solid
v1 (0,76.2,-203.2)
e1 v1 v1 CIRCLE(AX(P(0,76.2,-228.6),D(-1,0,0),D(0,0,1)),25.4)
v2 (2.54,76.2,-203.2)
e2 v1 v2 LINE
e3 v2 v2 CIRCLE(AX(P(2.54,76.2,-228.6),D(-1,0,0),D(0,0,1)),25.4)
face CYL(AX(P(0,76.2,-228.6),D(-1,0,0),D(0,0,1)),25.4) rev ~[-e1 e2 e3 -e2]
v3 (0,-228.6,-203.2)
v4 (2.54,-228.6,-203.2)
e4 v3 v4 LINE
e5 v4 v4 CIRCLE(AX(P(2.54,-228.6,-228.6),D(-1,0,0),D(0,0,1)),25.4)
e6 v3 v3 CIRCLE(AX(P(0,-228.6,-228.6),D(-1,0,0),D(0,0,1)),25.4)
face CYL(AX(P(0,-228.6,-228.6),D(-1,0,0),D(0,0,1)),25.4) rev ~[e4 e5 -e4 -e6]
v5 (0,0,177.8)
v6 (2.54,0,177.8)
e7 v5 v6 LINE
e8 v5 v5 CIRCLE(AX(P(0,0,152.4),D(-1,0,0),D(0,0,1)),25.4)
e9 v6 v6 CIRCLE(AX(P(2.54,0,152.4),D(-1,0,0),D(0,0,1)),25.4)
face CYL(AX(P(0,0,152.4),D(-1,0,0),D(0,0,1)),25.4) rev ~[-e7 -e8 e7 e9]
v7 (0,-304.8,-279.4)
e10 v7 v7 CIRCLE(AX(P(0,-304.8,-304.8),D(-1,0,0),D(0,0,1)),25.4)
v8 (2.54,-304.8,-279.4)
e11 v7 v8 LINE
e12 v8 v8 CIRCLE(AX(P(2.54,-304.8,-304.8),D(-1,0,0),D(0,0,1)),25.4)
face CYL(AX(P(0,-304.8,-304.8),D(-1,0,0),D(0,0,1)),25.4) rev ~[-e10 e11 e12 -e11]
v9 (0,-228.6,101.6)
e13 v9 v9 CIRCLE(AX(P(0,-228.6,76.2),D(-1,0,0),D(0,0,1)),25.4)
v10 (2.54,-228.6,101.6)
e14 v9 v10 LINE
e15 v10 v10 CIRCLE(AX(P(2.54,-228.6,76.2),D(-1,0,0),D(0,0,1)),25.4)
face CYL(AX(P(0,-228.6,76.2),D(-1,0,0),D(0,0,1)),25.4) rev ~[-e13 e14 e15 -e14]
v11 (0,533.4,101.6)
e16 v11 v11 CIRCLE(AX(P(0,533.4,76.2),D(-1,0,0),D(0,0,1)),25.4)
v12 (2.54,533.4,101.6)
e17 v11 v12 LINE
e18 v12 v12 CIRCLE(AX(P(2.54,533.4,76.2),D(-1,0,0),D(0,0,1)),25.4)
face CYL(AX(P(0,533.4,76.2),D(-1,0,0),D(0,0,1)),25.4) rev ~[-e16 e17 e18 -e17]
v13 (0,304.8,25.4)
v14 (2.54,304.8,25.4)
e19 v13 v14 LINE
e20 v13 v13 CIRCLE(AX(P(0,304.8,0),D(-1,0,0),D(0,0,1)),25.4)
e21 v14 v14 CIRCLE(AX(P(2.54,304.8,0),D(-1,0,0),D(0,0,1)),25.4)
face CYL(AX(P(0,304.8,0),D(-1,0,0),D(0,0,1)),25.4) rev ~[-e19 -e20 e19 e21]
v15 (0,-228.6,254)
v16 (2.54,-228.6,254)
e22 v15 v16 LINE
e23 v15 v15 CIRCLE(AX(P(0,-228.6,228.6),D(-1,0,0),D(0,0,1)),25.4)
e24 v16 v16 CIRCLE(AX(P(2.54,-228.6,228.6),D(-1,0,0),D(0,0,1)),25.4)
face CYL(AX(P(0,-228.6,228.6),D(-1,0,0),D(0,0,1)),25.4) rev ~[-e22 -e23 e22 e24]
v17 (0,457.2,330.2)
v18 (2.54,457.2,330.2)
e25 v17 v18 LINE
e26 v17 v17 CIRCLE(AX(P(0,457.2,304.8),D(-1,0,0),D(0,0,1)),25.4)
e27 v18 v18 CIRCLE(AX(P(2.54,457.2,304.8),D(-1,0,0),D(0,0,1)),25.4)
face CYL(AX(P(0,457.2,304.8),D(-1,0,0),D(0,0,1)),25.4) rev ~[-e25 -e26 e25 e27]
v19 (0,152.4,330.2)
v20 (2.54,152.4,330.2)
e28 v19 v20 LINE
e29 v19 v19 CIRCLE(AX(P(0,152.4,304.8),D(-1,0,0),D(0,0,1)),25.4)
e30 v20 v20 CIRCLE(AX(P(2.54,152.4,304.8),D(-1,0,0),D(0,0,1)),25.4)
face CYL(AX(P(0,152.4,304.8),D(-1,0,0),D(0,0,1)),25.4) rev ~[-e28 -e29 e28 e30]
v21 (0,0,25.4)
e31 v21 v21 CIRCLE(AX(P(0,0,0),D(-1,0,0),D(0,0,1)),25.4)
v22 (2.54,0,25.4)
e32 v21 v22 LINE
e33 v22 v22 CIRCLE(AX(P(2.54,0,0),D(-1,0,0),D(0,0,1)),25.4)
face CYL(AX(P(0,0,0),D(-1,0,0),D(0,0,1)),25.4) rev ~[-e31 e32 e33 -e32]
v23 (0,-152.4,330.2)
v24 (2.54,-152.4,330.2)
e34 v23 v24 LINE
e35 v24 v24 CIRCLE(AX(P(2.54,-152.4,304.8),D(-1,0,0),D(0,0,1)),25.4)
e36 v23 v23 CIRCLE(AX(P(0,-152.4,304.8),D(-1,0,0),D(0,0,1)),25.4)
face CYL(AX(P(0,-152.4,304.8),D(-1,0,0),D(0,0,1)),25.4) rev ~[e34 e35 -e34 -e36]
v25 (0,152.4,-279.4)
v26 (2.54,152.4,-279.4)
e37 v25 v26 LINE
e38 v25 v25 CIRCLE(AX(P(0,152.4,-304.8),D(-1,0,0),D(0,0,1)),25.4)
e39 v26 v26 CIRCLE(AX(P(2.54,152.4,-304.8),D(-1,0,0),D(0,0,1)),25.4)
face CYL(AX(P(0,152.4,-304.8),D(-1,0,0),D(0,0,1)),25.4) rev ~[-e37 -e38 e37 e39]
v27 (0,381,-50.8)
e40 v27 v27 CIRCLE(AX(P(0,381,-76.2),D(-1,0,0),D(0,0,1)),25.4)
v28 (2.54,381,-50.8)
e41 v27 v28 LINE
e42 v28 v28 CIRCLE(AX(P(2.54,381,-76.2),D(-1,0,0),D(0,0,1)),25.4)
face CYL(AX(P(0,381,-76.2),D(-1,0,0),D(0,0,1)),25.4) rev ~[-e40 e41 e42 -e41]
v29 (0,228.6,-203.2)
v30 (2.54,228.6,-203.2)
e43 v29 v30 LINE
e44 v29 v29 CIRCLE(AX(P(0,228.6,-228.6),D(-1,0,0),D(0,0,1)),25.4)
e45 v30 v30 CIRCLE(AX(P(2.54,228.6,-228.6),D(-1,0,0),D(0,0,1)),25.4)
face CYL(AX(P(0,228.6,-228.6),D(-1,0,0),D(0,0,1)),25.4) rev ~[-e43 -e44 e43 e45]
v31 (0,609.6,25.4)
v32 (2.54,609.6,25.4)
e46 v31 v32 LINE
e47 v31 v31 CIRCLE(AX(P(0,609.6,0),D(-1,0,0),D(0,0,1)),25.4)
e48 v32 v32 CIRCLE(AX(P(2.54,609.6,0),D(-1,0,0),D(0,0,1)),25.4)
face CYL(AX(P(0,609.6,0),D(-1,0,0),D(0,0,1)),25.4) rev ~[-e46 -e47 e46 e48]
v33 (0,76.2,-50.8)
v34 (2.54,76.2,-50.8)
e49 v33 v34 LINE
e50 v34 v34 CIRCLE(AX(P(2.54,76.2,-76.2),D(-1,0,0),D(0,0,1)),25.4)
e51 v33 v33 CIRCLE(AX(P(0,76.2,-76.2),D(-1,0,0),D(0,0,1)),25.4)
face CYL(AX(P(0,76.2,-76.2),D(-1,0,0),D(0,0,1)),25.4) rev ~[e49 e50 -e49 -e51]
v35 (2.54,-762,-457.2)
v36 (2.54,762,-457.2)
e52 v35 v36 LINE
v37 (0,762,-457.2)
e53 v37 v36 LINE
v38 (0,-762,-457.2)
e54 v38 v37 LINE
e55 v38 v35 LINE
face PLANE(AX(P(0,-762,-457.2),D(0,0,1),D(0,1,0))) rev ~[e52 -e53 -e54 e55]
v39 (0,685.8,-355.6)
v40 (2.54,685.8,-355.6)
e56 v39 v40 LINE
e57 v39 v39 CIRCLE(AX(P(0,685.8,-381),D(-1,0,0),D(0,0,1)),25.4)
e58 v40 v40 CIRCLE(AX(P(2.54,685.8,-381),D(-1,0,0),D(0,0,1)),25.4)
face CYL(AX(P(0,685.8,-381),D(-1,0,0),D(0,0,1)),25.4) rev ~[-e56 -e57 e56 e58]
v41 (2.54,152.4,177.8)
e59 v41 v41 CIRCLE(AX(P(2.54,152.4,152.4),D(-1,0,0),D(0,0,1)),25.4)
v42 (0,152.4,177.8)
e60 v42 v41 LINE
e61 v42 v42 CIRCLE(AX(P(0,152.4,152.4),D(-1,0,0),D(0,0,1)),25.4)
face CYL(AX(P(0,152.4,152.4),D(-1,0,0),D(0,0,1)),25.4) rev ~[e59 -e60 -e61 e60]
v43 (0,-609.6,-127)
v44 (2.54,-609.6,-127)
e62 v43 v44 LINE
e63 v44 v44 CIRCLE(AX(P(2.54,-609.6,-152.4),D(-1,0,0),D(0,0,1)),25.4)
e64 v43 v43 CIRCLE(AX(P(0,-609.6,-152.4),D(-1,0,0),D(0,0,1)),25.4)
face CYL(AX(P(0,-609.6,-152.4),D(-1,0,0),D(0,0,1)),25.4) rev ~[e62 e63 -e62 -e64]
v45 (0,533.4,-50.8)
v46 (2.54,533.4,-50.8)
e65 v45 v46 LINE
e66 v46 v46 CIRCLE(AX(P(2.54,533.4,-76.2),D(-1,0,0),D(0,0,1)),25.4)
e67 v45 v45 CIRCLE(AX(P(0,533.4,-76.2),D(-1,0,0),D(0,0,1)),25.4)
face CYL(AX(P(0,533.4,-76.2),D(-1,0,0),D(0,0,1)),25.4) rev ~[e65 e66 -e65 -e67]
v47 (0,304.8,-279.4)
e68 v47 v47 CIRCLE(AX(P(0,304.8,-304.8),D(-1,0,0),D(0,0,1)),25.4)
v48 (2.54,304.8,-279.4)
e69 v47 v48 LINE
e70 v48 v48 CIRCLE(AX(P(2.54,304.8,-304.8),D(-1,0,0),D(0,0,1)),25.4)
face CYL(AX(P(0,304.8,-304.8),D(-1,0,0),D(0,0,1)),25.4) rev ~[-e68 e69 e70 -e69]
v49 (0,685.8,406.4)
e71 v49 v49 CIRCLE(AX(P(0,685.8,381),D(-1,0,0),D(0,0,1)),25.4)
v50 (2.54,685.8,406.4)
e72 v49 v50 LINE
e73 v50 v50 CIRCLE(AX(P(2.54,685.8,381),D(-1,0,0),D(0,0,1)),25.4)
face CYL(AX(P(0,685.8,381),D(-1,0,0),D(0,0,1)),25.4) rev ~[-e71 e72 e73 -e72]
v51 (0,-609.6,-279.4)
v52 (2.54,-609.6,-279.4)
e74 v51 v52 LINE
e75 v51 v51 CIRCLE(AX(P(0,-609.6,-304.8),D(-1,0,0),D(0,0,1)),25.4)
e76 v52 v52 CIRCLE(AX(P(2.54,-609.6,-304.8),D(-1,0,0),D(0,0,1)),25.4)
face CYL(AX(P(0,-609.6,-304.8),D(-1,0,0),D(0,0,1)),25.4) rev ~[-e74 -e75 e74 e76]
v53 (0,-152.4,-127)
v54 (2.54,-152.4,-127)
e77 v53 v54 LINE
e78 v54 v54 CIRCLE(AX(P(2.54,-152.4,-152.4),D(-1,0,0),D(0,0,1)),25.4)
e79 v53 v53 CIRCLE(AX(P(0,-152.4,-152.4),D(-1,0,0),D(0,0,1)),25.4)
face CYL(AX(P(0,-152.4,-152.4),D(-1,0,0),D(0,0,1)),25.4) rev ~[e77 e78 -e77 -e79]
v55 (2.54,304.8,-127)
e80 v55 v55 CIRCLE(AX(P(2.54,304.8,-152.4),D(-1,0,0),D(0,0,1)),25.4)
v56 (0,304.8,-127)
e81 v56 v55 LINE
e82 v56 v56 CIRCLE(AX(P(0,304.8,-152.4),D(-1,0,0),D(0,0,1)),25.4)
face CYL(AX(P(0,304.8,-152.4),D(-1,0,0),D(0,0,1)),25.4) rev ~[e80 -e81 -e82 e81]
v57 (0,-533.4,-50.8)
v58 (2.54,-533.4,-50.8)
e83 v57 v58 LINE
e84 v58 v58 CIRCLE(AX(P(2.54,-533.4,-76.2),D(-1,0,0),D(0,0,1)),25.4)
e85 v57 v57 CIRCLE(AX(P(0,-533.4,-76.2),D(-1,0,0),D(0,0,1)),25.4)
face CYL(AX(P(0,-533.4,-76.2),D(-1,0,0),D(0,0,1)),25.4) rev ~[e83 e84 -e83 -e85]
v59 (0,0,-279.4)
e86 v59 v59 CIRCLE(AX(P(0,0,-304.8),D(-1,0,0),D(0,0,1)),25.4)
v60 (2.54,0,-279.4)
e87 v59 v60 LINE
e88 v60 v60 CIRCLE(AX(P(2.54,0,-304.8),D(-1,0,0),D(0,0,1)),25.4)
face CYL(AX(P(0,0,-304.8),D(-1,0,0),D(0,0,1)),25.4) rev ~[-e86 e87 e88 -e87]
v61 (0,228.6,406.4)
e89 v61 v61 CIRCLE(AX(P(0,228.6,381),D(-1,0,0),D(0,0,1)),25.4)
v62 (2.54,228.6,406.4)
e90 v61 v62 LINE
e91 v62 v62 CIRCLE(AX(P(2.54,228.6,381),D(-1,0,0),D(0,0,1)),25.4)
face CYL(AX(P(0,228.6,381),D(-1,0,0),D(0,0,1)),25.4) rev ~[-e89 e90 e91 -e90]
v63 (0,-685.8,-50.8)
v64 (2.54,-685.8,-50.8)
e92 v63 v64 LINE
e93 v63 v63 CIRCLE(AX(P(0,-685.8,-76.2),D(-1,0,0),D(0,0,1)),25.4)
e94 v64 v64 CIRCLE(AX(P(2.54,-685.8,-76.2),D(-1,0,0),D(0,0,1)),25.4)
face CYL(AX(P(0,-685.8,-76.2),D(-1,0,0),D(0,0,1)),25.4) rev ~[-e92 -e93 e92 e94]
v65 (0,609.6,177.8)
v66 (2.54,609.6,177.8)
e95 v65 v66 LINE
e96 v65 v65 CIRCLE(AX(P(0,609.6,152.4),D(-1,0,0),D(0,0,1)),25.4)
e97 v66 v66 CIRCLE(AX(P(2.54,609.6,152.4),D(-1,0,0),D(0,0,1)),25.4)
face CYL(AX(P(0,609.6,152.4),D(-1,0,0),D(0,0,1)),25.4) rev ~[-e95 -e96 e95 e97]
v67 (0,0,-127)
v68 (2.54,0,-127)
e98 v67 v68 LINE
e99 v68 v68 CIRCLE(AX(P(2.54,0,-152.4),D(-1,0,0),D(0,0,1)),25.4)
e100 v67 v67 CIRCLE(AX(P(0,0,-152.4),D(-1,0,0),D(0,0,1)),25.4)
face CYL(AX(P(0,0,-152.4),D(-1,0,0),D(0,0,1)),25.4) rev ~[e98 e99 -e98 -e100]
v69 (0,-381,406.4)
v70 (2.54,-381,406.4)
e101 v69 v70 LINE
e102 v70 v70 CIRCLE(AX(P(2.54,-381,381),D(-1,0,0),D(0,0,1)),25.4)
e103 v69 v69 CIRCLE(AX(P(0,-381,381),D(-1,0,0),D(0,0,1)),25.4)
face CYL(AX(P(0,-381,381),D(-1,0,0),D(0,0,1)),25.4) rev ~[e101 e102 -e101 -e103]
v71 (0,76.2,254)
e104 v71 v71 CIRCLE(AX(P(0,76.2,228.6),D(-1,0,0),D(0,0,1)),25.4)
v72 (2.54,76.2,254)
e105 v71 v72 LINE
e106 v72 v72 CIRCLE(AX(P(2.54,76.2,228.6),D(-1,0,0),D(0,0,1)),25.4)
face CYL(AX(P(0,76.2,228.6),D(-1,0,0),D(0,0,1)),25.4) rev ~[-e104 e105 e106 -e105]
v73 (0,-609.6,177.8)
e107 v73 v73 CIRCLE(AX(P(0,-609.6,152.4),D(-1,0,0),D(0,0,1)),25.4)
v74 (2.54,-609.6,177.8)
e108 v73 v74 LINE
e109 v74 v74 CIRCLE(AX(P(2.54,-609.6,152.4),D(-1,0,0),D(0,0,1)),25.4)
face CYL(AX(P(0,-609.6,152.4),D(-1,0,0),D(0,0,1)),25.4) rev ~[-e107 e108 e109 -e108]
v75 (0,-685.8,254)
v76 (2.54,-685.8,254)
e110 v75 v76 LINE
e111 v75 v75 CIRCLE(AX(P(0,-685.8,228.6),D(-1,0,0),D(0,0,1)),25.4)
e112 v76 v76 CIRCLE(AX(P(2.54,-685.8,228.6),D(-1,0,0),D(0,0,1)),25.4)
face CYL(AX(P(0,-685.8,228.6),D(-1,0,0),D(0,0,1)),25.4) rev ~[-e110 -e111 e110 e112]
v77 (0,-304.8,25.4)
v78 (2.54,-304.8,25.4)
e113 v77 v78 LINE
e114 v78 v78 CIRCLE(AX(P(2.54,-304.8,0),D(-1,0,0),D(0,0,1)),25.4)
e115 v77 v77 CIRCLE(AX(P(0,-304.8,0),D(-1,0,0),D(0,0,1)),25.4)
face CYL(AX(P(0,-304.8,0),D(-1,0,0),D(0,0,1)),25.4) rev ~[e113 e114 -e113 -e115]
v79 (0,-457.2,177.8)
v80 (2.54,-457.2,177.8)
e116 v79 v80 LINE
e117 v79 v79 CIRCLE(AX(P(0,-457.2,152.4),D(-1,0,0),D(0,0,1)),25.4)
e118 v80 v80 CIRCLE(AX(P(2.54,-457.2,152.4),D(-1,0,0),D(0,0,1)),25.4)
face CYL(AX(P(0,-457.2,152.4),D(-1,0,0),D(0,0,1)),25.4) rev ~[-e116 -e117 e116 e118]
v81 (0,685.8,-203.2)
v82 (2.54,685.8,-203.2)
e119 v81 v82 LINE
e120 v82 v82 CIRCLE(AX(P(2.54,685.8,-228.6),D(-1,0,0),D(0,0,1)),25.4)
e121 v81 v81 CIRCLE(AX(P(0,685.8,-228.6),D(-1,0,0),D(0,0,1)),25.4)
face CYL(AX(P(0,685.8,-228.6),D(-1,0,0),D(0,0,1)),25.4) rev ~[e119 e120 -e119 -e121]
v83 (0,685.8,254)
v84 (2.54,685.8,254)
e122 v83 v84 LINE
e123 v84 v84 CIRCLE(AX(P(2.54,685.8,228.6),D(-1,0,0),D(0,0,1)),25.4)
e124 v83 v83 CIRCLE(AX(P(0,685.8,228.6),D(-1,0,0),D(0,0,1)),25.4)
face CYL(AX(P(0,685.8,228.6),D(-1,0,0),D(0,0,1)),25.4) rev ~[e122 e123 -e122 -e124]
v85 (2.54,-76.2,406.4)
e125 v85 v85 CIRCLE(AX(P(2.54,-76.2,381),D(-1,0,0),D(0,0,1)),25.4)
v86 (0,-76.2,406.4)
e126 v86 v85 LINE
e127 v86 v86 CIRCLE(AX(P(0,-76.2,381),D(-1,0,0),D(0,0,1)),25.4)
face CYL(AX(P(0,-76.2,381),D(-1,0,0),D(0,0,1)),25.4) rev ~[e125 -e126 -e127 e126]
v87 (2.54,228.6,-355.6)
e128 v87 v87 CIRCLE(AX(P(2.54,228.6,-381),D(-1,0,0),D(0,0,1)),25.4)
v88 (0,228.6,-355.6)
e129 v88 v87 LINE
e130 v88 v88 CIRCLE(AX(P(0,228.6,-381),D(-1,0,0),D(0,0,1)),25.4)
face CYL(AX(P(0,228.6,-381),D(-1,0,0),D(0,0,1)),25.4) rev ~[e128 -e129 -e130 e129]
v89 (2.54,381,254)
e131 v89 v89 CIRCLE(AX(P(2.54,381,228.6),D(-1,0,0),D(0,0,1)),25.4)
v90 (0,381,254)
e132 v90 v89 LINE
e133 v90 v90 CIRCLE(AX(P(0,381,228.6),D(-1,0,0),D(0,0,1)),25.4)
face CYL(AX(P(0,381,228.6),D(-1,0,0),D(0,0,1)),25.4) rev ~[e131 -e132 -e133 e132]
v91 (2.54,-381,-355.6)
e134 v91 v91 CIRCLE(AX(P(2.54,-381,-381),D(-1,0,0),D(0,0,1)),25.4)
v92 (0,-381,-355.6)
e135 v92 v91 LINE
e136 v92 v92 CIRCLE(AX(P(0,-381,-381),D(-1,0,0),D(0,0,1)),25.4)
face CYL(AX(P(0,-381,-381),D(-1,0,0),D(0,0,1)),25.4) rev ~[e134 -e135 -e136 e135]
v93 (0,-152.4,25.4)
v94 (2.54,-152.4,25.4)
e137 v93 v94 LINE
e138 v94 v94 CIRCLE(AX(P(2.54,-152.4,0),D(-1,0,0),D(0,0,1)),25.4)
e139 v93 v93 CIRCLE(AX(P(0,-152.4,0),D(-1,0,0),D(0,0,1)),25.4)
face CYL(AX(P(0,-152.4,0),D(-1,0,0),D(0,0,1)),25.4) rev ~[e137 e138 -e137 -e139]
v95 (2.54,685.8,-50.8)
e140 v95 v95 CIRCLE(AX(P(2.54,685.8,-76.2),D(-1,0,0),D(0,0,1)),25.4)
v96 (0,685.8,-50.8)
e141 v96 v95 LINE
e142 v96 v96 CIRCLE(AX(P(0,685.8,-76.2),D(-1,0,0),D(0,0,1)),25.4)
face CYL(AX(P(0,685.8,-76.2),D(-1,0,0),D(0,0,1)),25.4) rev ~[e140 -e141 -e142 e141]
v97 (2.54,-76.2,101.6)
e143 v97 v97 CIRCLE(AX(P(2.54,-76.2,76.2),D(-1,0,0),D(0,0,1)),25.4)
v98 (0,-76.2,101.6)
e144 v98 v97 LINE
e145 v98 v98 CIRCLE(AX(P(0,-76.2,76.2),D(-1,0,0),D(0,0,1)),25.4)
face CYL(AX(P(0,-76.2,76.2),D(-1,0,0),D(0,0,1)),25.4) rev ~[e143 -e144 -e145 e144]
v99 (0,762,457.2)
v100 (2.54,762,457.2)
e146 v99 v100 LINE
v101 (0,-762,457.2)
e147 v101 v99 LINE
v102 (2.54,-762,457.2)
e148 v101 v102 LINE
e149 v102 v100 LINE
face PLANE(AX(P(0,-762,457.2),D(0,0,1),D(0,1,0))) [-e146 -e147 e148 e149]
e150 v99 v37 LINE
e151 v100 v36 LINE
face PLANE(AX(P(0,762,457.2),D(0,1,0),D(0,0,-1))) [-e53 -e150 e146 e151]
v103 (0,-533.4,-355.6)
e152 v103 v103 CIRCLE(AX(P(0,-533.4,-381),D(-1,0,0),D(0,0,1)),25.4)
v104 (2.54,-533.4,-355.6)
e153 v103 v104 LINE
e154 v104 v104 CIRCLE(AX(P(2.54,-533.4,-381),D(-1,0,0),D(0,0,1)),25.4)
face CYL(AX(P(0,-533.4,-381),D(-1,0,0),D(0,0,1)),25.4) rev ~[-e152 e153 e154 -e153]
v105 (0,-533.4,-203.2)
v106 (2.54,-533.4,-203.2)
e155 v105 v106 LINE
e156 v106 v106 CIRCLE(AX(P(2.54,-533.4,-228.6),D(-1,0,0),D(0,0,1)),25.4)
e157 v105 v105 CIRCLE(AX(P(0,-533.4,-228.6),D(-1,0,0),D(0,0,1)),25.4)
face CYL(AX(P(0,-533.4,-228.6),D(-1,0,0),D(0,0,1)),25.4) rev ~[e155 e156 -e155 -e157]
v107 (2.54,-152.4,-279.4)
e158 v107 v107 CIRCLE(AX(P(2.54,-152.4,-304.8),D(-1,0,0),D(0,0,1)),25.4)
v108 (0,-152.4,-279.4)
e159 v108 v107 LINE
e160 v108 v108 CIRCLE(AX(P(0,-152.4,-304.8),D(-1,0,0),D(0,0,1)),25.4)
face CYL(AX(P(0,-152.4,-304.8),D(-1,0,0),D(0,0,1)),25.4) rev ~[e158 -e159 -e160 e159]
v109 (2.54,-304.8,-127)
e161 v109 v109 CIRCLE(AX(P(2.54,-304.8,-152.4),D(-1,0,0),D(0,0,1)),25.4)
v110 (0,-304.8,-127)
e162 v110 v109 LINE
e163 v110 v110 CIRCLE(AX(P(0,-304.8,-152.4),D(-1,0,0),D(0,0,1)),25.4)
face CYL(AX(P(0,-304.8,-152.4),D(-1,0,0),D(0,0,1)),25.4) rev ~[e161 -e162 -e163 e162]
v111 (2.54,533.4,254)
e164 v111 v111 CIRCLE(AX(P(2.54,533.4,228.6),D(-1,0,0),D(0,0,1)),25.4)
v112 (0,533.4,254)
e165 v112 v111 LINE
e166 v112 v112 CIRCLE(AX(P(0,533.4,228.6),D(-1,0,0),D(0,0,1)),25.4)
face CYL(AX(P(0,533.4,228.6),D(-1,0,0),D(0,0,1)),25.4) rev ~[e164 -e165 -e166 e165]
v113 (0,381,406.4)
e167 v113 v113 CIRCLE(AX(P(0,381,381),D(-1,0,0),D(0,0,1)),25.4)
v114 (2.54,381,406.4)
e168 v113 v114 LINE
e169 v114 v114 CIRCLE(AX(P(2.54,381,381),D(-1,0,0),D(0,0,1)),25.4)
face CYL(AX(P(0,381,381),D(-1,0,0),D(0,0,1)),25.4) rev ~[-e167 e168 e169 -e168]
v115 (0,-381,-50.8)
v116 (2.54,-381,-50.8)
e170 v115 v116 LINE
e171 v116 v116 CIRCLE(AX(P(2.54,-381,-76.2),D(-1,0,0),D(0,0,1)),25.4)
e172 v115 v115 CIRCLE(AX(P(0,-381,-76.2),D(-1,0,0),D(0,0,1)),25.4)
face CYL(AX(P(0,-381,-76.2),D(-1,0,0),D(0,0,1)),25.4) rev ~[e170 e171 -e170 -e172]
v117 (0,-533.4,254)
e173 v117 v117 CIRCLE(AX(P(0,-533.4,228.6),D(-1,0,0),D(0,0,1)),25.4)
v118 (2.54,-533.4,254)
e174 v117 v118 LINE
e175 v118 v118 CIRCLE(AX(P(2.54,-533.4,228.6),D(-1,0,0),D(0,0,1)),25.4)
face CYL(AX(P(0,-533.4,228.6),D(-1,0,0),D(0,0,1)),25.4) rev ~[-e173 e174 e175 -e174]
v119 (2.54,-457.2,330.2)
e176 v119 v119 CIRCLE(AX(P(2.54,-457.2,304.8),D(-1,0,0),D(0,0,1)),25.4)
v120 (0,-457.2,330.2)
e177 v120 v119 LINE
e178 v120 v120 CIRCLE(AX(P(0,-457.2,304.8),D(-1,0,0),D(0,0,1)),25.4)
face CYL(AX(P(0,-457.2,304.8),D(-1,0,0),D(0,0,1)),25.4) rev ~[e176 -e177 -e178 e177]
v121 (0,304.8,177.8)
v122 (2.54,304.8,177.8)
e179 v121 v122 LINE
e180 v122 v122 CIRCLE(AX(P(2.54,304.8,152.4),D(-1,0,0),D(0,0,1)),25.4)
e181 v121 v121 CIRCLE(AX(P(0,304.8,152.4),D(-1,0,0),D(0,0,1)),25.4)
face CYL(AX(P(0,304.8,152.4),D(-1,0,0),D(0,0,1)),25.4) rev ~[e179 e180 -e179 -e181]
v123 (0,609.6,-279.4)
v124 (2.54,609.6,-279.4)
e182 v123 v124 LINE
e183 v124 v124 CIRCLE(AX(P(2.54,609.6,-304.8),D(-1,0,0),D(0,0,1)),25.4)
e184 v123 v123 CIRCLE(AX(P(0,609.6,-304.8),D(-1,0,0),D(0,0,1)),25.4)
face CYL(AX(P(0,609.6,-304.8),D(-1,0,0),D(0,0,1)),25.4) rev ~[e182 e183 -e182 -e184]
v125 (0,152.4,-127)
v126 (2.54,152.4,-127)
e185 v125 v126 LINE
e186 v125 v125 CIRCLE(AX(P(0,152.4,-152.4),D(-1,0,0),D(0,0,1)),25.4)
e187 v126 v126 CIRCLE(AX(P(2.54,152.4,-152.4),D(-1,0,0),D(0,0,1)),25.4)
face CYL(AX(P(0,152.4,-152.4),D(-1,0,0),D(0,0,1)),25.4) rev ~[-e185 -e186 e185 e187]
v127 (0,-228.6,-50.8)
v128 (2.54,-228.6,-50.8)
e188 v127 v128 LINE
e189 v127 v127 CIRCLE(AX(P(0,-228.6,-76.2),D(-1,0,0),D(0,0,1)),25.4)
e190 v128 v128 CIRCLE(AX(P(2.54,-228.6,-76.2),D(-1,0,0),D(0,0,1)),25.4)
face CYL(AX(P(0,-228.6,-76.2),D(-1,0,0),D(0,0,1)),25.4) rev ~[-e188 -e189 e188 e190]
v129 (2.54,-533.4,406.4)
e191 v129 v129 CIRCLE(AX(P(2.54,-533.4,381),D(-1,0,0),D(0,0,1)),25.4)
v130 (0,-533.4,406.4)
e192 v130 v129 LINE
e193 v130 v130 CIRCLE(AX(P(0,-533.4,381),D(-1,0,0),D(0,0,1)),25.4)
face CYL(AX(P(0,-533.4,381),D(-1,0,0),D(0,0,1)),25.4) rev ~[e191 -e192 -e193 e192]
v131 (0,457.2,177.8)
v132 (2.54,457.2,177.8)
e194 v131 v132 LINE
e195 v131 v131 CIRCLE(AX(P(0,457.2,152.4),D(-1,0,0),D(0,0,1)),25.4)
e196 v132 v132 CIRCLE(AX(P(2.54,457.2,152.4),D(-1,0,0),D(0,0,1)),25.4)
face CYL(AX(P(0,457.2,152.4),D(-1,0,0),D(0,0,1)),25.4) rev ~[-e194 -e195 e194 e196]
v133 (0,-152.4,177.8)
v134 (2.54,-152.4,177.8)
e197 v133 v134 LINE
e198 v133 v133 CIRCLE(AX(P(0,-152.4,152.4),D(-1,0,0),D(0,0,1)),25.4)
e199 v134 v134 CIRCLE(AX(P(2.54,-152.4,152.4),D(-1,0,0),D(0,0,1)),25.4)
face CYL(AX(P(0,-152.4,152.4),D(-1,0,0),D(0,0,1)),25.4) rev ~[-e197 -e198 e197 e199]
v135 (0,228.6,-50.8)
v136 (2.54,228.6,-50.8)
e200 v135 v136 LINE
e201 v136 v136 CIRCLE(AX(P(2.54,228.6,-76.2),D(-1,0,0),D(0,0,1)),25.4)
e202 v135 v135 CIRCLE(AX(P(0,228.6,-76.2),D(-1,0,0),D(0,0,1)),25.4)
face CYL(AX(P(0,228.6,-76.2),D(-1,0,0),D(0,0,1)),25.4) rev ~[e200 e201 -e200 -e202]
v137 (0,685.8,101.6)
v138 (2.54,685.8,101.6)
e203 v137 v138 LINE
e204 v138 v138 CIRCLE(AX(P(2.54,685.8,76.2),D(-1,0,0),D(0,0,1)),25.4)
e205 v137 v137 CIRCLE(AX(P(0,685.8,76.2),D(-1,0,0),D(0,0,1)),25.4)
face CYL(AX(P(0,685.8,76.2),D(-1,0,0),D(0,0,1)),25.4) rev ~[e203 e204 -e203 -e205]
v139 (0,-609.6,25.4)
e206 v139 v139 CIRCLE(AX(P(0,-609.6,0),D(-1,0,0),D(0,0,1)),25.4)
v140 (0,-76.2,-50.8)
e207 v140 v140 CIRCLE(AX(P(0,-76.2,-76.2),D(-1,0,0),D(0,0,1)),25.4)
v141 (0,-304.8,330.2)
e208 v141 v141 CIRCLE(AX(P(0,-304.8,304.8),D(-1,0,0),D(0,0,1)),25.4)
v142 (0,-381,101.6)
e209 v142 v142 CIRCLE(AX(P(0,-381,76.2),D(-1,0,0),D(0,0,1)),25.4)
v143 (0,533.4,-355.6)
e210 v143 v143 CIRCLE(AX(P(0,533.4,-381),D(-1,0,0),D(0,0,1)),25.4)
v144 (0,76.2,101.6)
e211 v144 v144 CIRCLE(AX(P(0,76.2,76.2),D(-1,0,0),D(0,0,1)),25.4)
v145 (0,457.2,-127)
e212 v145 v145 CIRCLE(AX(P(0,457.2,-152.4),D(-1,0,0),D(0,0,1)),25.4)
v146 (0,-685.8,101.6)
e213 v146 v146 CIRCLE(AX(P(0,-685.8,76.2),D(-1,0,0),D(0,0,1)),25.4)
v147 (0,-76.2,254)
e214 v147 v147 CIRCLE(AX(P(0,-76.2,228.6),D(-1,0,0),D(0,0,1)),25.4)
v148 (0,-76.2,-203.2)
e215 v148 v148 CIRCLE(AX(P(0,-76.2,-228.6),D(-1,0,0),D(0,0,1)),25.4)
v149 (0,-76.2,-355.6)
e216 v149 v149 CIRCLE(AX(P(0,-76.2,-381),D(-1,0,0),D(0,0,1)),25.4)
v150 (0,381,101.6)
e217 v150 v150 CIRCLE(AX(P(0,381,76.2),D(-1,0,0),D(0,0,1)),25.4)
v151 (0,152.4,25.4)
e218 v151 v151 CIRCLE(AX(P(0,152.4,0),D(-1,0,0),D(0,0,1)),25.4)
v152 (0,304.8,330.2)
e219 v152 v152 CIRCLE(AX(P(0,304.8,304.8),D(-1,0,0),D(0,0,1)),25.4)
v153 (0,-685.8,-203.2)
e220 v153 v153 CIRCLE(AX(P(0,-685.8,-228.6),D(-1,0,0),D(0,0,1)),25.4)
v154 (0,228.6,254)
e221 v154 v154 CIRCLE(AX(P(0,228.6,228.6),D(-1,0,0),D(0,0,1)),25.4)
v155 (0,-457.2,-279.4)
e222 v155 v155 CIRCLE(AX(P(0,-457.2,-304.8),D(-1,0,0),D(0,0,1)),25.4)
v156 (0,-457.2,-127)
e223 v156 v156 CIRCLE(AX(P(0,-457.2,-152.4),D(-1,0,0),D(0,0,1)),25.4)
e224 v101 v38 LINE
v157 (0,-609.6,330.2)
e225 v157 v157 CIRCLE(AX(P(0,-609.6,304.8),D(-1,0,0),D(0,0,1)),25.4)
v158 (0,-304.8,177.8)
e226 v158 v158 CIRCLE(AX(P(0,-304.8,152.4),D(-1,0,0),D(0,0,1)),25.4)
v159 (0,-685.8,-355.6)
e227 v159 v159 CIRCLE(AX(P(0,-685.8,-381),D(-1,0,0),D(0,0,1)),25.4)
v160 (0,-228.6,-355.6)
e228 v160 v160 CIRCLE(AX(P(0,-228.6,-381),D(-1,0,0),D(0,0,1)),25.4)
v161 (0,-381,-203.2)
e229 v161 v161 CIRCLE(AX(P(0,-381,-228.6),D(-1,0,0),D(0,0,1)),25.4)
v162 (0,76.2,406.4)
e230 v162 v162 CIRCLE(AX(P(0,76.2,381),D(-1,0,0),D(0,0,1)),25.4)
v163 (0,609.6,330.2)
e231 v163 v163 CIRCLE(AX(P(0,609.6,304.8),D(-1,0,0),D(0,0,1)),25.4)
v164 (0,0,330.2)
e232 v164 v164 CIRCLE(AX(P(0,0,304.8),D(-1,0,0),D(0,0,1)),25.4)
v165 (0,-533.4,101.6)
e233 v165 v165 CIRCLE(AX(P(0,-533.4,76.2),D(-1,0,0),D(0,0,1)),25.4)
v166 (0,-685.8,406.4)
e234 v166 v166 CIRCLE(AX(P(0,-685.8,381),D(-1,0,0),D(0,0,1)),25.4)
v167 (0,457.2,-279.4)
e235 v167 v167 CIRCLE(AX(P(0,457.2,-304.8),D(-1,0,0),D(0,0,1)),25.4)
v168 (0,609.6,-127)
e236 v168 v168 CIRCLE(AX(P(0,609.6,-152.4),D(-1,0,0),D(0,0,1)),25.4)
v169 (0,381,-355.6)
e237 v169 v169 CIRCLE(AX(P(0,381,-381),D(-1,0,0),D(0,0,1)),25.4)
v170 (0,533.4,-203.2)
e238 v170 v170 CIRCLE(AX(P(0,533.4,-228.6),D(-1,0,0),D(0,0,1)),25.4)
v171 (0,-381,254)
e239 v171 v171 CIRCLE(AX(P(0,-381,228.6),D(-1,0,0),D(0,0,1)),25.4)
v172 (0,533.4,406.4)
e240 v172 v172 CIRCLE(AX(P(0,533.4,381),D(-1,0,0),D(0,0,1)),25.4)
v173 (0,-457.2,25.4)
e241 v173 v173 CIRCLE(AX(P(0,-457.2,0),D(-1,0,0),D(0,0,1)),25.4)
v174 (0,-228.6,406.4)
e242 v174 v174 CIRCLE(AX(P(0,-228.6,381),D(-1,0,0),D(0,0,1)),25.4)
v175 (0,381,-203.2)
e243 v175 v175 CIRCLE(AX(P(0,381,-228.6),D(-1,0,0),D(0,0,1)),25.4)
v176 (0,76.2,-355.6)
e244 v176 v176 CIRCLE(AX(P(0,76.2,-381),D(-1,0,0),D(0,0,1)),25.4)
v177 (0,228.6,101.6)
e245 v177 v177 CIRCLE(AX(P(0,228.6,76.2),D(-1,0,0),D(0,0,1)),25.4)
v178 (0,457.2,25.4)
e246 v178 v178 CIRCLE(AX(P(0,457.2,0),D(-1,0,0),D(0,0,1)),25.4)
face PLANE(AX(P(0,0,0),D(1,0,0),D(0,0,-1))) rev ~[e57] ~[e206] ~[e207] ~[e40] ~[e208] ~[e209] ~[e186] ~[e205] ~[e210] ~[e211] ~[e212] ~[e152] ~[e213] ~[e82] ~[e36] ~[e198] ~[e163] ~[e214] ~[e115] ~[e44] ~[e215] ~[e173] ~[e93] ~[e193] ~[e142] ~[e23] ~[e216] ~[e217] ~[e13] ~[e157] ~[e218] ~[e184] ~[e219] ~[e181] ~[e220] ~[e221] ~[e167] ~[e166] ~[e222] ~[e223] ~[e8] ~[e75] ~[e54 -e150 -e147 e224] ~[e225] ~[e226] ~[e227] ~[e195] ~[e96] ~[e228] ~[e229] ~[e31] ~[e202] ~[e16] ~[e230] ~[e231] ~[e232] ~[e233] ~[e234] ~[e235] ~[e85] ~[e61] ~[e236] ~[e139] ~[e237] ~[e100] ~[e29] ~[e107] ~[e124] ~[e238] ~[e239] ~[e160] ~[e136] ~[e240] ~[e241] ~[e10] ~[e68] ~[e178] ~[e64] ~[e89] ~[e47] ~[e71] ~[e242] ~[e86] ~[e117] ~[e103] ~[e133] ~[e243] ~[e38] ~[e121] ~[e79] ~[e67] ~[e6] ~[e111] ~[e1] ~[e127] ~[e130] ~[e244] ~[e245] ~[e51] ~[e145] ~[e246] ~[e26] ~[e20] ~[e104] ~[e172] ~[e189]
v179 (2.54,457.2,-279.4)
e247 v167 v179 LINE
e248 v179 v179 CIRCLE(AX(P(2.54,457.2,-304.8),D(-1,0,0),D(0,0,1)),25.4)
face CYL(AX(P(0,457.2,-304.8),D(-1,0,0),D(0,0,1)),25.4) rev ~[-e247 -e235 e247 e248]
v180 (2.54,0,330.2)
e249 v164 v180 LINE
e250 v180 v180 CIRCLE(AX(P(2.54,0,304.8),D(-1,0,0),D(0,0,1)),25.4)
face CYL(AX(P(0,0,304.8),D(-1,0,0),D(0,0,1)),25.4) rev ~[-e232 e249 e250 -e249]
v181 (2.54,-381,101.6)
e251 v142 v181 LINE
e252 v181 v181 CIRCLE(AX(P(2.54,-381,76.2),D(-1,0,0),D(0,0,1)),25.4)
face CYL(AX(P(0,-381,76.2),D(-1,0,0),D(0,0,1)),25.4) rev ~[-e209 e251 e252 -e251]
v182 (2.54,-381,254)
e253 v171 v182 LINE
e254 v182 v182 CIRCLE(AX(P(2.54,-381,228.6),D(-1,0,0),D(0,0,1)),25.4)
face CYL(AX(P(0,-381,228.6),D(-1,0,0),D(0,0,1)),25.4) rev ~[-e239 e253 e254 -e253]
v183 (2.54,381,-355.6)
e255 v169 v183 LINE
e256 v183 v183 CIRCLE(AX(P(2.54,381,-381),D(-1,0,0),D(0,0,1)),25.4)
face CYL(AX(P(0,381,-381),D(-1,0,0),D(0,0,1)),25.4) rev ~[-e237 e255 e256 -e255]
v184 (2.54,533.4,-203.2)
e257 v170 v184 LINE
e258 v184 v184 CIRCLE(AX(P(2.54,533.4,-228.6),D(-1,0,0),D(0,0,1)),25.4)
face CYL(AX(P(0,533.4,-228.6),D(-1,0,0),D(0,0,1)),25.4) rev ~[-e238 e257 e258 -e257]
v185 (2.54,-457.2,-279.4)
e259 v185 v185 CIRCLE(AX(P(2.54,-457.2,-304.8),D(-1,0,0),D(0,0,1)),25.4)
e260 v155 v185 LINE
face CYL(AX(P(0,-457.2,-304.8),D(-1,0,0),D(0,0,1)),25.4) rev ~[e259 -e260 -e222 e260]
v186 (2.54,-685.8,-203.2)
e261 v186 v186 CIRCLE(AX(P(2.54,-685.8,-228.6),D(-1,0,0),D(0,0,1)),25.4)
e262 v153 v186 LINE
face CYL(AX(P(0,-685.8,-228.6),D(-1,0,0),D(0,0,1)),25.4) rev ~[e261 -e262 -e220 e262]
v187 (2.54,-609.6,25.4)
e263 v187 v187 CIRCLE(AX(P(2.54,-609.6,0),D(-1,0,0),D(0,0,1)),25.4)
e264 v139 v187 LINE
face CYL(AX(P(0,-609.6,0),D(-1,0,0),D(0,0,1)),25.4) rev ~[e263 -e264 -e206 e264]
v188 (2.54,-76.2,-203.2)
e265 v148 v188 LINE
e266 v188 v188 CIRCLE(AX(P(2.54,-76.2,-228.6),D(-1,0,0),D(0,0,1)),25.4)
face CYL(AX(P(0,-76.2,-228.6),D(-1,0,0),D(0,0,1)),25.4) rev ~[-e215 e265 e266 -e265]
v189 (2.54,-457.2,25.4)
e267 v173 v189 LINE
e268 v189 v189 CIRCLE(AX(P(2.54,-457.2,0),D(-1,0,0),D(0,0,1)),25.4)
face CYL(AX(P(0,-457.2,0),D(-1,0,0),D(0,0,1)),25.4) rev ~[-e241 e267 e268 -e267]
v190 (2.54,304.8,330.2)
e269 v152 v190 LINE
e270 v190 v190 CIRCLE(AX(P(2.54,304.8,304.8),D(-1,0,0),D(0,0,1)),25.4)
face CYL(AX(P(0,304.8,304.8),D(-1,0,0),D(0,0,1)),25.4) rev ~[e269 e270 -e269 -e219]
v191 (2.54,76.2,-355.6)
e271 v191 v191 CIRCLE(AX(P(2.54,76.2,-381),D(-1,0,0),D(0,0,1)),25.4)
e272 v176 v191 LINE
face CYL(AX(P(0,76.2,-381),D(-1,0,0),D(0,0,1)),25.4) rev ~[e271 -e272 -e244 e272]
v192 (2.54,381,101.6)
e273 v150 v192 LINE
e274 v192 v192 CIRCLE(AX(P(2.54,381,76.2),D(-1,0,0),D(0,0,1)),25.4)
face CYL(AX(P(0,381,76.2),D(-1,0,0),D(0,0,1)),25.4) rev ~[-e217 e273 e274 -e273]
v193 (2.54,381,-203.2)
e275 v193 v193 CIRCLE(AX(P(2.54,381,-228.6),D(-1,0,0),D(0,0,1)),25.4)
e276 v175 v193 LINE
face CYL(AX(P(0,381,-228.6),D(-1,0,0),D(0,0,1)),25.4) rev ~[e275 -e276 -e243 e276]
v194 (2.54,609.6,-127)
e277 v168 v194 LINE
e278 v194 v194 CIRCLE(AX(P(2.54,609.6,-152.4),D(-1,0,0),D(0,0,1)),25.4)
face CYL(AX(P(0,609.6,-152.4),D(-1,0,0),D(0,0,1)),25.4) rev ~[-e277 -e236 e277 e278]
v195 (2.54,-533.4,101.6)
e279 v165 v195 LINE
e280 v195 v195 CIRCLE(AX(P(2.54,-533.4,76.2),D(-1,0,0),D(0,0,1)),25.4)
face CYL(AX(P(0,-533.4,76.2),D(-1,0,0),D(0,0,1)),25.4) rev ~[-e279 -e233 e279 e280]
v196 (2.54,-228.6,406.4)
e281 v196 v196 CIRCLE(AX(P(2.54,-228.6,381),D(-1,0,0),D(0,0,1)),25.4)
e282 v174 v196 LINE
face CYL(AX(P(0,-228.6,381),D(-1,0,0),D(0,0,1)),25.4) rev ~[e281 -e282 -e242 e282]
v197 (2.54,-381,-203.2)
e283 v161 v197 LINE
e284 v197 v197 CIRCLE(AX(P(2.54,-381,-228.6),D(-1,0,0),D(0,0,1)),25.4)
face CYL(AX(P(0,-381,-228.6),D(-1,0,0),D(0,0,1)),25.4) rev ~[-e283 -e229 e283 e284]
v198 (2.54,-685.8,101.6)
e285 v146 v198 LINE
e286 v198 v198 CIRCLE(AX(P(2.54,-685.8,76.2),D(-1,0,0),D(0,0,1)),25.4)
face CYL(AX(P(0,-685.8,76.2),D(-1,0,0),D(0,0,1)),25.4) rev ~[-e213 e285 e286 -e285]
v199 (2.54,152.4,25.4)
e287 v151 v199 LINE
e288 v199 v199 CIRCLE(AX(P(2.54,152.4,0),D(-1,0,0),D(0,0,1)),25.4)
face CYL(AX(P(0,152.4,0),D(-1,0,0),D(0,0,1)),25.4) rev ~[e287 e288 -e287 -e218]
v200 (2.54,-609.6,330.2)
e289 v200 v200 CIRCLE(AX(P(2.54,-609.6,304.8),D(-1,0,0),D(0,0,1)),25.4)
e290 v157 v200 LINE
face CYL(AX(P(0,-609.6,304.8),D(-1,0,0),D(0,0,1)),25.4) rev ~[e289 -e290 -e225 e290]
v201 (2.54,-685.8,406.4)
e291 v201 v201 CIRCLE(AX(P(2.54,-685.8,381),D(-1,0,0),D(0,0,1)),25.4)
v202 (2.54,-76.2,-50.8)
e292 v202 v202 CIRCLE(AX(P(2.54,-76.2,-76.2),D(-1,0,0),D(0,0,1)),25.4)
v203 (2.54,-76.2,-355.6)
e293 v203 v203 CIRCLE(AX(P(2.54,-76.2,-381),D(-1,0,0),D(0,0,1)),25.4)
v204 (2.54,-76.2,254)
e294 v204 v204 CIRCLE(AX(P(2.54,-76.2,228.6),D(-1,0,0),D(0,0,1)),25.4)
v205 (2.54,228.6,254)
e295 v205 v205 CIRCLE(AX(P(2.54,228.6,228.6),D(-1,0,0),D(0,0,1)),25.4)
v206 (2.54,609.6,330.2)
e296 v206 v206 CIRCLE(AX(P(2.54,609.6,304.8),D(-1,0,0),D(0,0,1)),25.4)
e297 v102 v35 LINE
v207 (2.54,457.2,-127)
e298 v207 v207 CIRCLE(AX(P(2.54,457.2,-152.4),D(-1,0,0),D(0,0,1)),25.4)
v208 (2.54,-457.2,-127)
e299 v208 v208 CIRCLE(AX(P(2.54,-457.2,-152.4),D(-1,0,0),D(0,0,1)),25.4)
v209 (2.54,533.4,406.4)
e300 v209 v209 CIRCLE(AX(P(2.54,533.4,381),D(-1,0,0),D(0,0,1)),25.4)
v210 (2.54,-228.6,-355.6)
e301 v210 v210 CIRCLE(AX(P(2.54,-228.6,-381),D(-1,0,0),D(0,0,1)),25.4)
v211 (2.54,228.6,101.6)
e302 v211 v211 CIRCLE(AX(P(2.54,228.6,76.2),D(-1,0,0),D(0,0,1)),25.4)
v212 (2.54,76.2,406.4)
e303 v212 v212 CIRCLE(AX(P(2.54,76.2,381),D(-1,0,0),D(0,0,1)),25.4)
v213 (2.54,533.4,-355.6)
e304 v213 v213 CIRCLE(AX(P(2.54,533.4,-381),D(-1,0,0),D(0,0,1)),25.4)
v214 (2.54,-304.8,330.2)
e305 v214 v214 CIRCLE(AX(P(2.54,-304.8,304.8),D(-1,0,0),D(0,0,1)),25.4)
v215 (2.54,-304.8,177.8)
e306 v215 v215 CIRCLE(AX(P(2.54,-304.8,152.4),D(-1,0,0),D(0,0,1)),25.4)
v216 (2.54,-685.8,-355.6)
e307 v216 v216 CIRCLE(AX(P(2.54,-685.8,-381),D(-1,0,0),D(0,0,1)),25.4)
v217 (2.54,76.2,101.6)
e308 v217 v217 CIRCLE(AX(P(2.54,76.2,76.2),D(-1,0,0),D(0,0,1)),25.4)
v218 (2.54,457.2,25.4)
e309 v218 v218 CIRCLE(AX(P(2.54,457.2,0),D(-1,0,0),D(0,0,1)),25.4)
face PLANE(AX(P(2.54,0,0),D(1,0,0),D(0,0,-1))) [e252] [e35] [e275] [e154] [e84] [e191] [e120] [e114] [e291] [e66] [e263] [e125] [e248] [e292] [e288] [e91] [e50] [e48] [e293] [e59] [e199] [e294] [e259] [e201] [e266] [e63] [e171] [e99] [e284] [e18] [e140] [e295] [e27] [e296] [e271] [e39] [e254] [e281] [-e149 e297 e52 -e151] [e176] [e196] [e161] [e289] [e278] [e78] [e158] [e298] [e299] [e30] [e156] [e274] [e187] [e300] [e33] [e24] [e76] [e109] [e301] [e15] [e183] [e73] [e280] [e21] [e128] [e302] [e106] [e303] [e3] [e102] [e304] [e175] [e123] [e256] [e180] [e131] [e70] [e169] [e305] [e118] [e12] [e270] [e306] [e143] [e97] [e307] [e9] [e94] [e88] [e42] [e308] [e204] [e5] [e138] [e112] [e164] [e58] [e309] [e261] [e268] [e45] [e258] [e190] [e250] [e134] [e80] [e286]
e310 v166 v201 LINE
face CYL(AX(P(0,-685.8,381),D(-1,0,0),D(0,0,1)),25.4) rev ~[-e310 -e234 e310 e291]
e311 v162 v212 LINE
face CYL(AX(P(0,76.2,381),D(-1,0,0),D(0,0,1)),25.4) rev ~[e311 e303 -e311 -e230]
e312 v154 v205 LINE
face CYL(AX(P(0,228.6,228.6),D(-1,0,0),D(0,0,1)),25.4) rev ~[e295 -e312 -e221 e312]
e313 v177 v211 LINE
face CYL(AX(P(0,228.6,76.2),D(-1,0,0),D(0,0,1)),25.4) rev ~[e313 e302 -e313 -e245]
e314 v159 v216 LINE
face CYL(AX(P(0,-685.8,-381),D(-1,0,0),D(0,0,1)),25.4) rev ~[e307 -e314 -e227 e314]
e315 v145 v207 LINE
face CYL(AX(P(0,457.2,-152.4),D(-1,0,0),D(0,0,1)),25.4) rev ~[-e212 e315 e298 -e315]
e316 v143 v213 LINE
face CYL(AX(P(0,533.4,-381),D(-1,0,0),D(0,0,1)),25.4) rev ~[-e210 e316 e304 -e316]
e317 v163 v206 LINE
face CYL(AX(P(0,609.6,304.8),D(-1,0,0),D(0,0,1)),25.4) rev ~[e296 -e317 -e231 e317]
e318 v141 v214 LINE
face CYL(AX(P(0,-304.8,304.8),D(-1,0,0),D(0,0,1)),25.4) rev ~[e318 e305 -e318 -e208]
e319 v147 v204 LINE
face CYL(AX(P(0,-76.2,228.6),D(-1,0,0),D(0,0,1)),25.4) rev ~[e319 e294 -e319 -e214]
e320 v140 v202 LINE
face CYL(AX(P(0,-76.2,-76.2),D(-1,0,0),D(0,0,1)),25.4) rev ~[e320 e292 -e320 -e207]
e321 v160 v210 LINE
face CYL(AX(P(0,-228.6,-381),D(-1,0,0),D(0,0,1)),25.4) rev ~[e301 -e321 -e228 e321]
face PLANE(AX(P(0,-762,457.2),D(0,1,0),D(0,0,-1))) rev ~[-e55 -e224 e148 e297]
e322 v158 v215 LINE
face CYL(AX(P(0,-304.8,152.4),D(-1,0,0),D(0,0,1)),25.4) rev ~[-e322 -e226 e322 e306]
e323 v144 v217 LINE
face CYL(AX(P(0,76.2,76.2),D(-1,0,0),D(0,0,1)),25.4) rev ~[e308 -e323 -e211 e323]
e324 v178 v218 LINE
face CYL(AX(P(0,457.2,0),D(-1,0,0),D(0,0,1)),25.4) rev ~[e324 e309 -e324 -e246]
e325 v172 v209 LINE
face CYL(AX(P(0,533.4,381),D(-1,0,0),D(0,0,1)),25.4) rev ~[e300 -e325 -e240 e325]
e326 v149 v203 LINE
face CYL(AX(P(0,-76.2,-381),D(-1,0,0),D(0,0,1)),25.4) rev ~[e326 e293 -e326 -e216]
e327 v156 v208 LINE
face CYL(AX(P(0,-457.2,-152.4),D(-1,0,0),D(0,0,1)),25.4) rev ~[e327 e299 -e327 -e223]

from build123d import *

# Parameters (mm, degrees)
SKETCH1_W           = 914.4
SKETCH1_H           = 1524
BOSS_EXTRUDE1_DEPTH = 2.54
SKETCH3_R           = 25.4
CUT_EXTRUDE1_DEPTH  = 3.54


with BuildPart() as part:
    # Sketch1 → Boss-Extrude1 (new body)
    with BuildSketch(Plane(origin=(0, 0, 0), x_dir=(0, 0, -1), z_dir=(1, 0, 0))):
        Rectangle(SKETCH1_W, SKETCH1_H)
    extrude(amount=BOSS_EXTRUDE1_DEPTH)

    # Sketch3 → Cut-Extrude1 (cut, through all)
    with BuildSketch(Plane.ZY):
        with Locations((-381, -685.8)):
            Circle(SKETCH3_R)
        with Locations((-304.8, -609.6)):
            Circle(SKETCH3_R)
        with Locations((-228.6, -685.8)):
            Circle(SKETCH3_R)
        with Locations((-76.2, -685.8)):
            Circle(SKETCH3_R)
        with Locations((76.2, -685.8)):
            Circle(SKETCH3_R)
        with Locations((228.6, -685.8)):
            Circle(SKETCH3_R)
        with Locations((381, -685.8)):
            Circle(SKETCH3_R)
        with Locations((-228.6, -533.4)):
            Circle(SKETCH3_R)
        with Locations((-76.2, -533.4)):
            Circle(SKETCH3_R)
        with Locations((76.2, -533.4)):
            Circle(SKETCH3_R)
        with Locations((228.6, -533.4)):
            Circle(SKETCH3_R)
        with Locations((381, -533.4)):
            Circle(SKETCH3_R)
        with Locations((-228.6, -381)):
            Circle(SKETCH3_R)
        with Locations((-76.2, -381)):
            Circle(SKETCH3_R)
        with Locations((76.2, -381)):
            Circle(SKETCH3_R)
        with Locations((228.6, -381)):
            Circle(SKETCH3_R)
        with Locations((381, -381)):
            Circle(SKETCH3_R)
        with Locations((-228.6, -228.6)):
            Circle(SKETCH3_R)
        with Locations((-76.2, -228.6)):
            Circle(SKETCH3_R)
        with Locations((76.2, -228.6)):
            Circle(SKETCH3_R)
        with Locations((228.6, -228.6)):
            Circle(SKETCH3_R)
        with Locations((381, -228.6)):
            Circle(SKETCH3_R)
        with Locations((-228.6, -76.2)):
            Circle(SKETCH3_R)
        with Locations((-76.2, -76.2)):
            Circle(SKETCH3_R)
        with Locations((76.2, -76.2)):
            Circle(SKETCH3_R)
        with Locations((228.6, -76.2)):
            Circle(SKETCH3_R)
        with Locations((381, -76.2)):
            Circle(SKETCH3_R)
        with Locations((-228.6, 76.2)):
            Circle(SKETCH3_R)
        with Locations((-76.2, 76.2)):
            Circle(SKETCH3_R)
        with Locations((76.2, 76.2)):
            Circle(SKETCH3_R)
        with Locations((228.6, 76.2)):
            Circle(SKETCH3_R)
        with Locations((381, 76.2)):
            Circle(SKETCH3_R)
        with Locations((-228.6, 228.6)):
            Circle(SKETCH3_R)
        with Locations((-76.2, 228.6)):
            Circle(SKETCH3_R)
        with Locations((76.2, 228.6)):
            Circle(SKETCH3_R)
        with Locations((228.6, 228.6)):
            Circle(SKETCH3_R)
        with Locations((381, 228.6)):
            Circle(SKETCH3_R)
        with Locations((-228.6, 381)):
            Circle(SKETCH3_R)
        with Locations((-76.2, 381)):
            Circle(SKETCH3_R)
        with Locations((76.2, 381)):
            Circle(SKETCH3_R)
        with Locations((228.6, 381)):
            Circle(SKETCH3_R)
        with Locations((381, 381)):
            Circle(SKETCH3_R)
        with Locations((-228.6, 533.4)):
            Circle(SKETCH3_R)
        with Locations((-76.2, 533.4)):
            Circle(SKETCH3_R)
        with Locations((76.2, 533.4)):
            Circle(SKETCH3_R)
        with Locations((228.6, 533.4)):
            Circle(SKETCH3_R)
        with Locations((381, 533.4)):
            Circle(SKETCH3_R)
        with Locations((-228.6, 685.8)):
            Circle(SKETCH3_R)
        with Locations((-76.2, 685.8)):
            Circle(SKETCH3_R)
        with Locations((76.2, 685.8)):
            Circle(SKETCH3_R)
        with Locations((228.6, 685.8)):
            Circle(SKETCH3_R)
        with Locations((381, 685.8)):
            Circle(SKETCH3_R)
        with Locations((-381, -533.4)):
            Circle(SKETCH3_R)
        with Locations((-381, -381)):
            Circle(SKETCH3_R)
        with Locations((-381, -228.6)):
            Circle(SKETCH3_R)
        with Locations((-381, -76.2)):
            Circle(SKETCH3_R)
        with Locations((-381, 76.2)):
            Circle(SKETCH3_R)
        with Locations((-381, 228.6)):
            Circle(SKETCH3_R)
        with Locations((-381, 381)):
            Circle(SKETCH3_R)
        with Locations((-381, 533.4)):
            Circle(SKETCH3_R)
        with Locations((-381, 685.8)):
            Circle(SKETCH3_R)
        with Locations((-152.4, -609.6)):
            Circle(SKETCH3_R)
        with Locations((0, -609.6)):
            Circle(SKETCH3_R)
        with Locations((152.4, -609.6)):
            Circle(SKETCH3_R)
        with Locations((304.8, -609.6)):
            Circle(SKETCH3_R)
        with Locations((-152.4, -457.2)):
            Circle(SKETCH3_R)
        with Locations((0, -457.2)):
            Circle(SKETCH3_R)
        with Locations((152.4, -457.2)):
            Circle(SKETCH3_R)
        with Locations((304.8, -457.2)):
            Circle(SKETCH3_R)
        with Locations((-152.4, -304.8)):
            Circle(SKETCH3_R)
        with Locations((0, -304.8)):
            Circle(SKETCH3_R)
        with Locations((152.4, -304.8)):
            Circle(SKETCH3_R)
        with Locations((304.8, -304.8)):
            Circle(SKETCH3_R)
        with Locations((-152.4, -152.4)):
            Circle(SKETCH3_R)
        with Locations((0, -152.4)):
            Circle(SKETCH3_R)
        with Locations((152.4, -152.4)):
            Circle(SKETCH3_R)
        with Locations((304.8, -152.4)):
            Circle(SKETCH3_R)
        with Locations((-152.4, 0)):
            Circle(SKETCH3_R)
        Circle(SKETCH3_R)
        with Locations((152.4, 0)):
            Circle(SKETCH3_R)
        with Locations((304.8, 0)):
            Circle(SKETCH3_R)
        with Locations((-152.4, 152.4)):
            Circle(SKETCH3_R)
        with Locations((0, 152.4)):
            Circle(SKETCH3_R)
        with Locations((152.4, 152.4)):
            Circle(SKETCH3_R)
        with Locations((304.8, 152.4)):
            Circle(SKETCH3_R)
        with Locations((-152.4, 304.8)):
            Circle(SKETCH3_R)
        with Locations((0, 304.8)):
            Circle(SKETCH3_R)
        with Locations((152.4, 304.8)):
            Circle(SKETCH3_R)
        with Locations((304.8, 304.8)):
            Circle(SKETCH3_R)
        with Locations((-152.4, 457.2)):
            Circle(SKETCH3_R)
        with Locations((0, 457.2)):
            Circle(SKETCH3_R)
        with Locations((152.4, 457.2)):
            Circle(SKETCH3_R)
        with Locations((304.8, 457.2)):
            Circle(SKETCH3_R)
        with Locations((-152.4, 609.6)):
            Circle(SKETCH3_R)
        with Locations((0, 609.6)):
            Circle(SKETCH3_R)
        with Locations((152.4, 609.6)):
            Circle(SKETCH3_R)
        with Locations((304.8, 609.6)):
            Circle(SKETCH3_R)
        with Locations((-304.8, -457.2)):
            Circle(SKETCH3_R)
        with Locations((-304.8, -304.8)):
            Circle(SKETCH3_R)
        with Locations((-304.8, -152.4)):
            Circle(SKETCH3_R)
        with Locations((-304.8, 0)):
            Circle(SKETCH3_R)
        with Locations((-304.8, 152.4)):
            Circle(SKETCH3_R)
        with Locations((-304.8, 304.8)):
            Circle(SKETCH3_R)
        with Locations((-304.8, 457.2)):
            Circle(SKETCH3_R)
        with Locations((-304.8, 609.6)):
            Circle(SKETCH3_R)
    extrude(amount=-CUT_EXTRUDE1_DEPTH, mode=Mode.SUBTRACT)


solid = part.part
